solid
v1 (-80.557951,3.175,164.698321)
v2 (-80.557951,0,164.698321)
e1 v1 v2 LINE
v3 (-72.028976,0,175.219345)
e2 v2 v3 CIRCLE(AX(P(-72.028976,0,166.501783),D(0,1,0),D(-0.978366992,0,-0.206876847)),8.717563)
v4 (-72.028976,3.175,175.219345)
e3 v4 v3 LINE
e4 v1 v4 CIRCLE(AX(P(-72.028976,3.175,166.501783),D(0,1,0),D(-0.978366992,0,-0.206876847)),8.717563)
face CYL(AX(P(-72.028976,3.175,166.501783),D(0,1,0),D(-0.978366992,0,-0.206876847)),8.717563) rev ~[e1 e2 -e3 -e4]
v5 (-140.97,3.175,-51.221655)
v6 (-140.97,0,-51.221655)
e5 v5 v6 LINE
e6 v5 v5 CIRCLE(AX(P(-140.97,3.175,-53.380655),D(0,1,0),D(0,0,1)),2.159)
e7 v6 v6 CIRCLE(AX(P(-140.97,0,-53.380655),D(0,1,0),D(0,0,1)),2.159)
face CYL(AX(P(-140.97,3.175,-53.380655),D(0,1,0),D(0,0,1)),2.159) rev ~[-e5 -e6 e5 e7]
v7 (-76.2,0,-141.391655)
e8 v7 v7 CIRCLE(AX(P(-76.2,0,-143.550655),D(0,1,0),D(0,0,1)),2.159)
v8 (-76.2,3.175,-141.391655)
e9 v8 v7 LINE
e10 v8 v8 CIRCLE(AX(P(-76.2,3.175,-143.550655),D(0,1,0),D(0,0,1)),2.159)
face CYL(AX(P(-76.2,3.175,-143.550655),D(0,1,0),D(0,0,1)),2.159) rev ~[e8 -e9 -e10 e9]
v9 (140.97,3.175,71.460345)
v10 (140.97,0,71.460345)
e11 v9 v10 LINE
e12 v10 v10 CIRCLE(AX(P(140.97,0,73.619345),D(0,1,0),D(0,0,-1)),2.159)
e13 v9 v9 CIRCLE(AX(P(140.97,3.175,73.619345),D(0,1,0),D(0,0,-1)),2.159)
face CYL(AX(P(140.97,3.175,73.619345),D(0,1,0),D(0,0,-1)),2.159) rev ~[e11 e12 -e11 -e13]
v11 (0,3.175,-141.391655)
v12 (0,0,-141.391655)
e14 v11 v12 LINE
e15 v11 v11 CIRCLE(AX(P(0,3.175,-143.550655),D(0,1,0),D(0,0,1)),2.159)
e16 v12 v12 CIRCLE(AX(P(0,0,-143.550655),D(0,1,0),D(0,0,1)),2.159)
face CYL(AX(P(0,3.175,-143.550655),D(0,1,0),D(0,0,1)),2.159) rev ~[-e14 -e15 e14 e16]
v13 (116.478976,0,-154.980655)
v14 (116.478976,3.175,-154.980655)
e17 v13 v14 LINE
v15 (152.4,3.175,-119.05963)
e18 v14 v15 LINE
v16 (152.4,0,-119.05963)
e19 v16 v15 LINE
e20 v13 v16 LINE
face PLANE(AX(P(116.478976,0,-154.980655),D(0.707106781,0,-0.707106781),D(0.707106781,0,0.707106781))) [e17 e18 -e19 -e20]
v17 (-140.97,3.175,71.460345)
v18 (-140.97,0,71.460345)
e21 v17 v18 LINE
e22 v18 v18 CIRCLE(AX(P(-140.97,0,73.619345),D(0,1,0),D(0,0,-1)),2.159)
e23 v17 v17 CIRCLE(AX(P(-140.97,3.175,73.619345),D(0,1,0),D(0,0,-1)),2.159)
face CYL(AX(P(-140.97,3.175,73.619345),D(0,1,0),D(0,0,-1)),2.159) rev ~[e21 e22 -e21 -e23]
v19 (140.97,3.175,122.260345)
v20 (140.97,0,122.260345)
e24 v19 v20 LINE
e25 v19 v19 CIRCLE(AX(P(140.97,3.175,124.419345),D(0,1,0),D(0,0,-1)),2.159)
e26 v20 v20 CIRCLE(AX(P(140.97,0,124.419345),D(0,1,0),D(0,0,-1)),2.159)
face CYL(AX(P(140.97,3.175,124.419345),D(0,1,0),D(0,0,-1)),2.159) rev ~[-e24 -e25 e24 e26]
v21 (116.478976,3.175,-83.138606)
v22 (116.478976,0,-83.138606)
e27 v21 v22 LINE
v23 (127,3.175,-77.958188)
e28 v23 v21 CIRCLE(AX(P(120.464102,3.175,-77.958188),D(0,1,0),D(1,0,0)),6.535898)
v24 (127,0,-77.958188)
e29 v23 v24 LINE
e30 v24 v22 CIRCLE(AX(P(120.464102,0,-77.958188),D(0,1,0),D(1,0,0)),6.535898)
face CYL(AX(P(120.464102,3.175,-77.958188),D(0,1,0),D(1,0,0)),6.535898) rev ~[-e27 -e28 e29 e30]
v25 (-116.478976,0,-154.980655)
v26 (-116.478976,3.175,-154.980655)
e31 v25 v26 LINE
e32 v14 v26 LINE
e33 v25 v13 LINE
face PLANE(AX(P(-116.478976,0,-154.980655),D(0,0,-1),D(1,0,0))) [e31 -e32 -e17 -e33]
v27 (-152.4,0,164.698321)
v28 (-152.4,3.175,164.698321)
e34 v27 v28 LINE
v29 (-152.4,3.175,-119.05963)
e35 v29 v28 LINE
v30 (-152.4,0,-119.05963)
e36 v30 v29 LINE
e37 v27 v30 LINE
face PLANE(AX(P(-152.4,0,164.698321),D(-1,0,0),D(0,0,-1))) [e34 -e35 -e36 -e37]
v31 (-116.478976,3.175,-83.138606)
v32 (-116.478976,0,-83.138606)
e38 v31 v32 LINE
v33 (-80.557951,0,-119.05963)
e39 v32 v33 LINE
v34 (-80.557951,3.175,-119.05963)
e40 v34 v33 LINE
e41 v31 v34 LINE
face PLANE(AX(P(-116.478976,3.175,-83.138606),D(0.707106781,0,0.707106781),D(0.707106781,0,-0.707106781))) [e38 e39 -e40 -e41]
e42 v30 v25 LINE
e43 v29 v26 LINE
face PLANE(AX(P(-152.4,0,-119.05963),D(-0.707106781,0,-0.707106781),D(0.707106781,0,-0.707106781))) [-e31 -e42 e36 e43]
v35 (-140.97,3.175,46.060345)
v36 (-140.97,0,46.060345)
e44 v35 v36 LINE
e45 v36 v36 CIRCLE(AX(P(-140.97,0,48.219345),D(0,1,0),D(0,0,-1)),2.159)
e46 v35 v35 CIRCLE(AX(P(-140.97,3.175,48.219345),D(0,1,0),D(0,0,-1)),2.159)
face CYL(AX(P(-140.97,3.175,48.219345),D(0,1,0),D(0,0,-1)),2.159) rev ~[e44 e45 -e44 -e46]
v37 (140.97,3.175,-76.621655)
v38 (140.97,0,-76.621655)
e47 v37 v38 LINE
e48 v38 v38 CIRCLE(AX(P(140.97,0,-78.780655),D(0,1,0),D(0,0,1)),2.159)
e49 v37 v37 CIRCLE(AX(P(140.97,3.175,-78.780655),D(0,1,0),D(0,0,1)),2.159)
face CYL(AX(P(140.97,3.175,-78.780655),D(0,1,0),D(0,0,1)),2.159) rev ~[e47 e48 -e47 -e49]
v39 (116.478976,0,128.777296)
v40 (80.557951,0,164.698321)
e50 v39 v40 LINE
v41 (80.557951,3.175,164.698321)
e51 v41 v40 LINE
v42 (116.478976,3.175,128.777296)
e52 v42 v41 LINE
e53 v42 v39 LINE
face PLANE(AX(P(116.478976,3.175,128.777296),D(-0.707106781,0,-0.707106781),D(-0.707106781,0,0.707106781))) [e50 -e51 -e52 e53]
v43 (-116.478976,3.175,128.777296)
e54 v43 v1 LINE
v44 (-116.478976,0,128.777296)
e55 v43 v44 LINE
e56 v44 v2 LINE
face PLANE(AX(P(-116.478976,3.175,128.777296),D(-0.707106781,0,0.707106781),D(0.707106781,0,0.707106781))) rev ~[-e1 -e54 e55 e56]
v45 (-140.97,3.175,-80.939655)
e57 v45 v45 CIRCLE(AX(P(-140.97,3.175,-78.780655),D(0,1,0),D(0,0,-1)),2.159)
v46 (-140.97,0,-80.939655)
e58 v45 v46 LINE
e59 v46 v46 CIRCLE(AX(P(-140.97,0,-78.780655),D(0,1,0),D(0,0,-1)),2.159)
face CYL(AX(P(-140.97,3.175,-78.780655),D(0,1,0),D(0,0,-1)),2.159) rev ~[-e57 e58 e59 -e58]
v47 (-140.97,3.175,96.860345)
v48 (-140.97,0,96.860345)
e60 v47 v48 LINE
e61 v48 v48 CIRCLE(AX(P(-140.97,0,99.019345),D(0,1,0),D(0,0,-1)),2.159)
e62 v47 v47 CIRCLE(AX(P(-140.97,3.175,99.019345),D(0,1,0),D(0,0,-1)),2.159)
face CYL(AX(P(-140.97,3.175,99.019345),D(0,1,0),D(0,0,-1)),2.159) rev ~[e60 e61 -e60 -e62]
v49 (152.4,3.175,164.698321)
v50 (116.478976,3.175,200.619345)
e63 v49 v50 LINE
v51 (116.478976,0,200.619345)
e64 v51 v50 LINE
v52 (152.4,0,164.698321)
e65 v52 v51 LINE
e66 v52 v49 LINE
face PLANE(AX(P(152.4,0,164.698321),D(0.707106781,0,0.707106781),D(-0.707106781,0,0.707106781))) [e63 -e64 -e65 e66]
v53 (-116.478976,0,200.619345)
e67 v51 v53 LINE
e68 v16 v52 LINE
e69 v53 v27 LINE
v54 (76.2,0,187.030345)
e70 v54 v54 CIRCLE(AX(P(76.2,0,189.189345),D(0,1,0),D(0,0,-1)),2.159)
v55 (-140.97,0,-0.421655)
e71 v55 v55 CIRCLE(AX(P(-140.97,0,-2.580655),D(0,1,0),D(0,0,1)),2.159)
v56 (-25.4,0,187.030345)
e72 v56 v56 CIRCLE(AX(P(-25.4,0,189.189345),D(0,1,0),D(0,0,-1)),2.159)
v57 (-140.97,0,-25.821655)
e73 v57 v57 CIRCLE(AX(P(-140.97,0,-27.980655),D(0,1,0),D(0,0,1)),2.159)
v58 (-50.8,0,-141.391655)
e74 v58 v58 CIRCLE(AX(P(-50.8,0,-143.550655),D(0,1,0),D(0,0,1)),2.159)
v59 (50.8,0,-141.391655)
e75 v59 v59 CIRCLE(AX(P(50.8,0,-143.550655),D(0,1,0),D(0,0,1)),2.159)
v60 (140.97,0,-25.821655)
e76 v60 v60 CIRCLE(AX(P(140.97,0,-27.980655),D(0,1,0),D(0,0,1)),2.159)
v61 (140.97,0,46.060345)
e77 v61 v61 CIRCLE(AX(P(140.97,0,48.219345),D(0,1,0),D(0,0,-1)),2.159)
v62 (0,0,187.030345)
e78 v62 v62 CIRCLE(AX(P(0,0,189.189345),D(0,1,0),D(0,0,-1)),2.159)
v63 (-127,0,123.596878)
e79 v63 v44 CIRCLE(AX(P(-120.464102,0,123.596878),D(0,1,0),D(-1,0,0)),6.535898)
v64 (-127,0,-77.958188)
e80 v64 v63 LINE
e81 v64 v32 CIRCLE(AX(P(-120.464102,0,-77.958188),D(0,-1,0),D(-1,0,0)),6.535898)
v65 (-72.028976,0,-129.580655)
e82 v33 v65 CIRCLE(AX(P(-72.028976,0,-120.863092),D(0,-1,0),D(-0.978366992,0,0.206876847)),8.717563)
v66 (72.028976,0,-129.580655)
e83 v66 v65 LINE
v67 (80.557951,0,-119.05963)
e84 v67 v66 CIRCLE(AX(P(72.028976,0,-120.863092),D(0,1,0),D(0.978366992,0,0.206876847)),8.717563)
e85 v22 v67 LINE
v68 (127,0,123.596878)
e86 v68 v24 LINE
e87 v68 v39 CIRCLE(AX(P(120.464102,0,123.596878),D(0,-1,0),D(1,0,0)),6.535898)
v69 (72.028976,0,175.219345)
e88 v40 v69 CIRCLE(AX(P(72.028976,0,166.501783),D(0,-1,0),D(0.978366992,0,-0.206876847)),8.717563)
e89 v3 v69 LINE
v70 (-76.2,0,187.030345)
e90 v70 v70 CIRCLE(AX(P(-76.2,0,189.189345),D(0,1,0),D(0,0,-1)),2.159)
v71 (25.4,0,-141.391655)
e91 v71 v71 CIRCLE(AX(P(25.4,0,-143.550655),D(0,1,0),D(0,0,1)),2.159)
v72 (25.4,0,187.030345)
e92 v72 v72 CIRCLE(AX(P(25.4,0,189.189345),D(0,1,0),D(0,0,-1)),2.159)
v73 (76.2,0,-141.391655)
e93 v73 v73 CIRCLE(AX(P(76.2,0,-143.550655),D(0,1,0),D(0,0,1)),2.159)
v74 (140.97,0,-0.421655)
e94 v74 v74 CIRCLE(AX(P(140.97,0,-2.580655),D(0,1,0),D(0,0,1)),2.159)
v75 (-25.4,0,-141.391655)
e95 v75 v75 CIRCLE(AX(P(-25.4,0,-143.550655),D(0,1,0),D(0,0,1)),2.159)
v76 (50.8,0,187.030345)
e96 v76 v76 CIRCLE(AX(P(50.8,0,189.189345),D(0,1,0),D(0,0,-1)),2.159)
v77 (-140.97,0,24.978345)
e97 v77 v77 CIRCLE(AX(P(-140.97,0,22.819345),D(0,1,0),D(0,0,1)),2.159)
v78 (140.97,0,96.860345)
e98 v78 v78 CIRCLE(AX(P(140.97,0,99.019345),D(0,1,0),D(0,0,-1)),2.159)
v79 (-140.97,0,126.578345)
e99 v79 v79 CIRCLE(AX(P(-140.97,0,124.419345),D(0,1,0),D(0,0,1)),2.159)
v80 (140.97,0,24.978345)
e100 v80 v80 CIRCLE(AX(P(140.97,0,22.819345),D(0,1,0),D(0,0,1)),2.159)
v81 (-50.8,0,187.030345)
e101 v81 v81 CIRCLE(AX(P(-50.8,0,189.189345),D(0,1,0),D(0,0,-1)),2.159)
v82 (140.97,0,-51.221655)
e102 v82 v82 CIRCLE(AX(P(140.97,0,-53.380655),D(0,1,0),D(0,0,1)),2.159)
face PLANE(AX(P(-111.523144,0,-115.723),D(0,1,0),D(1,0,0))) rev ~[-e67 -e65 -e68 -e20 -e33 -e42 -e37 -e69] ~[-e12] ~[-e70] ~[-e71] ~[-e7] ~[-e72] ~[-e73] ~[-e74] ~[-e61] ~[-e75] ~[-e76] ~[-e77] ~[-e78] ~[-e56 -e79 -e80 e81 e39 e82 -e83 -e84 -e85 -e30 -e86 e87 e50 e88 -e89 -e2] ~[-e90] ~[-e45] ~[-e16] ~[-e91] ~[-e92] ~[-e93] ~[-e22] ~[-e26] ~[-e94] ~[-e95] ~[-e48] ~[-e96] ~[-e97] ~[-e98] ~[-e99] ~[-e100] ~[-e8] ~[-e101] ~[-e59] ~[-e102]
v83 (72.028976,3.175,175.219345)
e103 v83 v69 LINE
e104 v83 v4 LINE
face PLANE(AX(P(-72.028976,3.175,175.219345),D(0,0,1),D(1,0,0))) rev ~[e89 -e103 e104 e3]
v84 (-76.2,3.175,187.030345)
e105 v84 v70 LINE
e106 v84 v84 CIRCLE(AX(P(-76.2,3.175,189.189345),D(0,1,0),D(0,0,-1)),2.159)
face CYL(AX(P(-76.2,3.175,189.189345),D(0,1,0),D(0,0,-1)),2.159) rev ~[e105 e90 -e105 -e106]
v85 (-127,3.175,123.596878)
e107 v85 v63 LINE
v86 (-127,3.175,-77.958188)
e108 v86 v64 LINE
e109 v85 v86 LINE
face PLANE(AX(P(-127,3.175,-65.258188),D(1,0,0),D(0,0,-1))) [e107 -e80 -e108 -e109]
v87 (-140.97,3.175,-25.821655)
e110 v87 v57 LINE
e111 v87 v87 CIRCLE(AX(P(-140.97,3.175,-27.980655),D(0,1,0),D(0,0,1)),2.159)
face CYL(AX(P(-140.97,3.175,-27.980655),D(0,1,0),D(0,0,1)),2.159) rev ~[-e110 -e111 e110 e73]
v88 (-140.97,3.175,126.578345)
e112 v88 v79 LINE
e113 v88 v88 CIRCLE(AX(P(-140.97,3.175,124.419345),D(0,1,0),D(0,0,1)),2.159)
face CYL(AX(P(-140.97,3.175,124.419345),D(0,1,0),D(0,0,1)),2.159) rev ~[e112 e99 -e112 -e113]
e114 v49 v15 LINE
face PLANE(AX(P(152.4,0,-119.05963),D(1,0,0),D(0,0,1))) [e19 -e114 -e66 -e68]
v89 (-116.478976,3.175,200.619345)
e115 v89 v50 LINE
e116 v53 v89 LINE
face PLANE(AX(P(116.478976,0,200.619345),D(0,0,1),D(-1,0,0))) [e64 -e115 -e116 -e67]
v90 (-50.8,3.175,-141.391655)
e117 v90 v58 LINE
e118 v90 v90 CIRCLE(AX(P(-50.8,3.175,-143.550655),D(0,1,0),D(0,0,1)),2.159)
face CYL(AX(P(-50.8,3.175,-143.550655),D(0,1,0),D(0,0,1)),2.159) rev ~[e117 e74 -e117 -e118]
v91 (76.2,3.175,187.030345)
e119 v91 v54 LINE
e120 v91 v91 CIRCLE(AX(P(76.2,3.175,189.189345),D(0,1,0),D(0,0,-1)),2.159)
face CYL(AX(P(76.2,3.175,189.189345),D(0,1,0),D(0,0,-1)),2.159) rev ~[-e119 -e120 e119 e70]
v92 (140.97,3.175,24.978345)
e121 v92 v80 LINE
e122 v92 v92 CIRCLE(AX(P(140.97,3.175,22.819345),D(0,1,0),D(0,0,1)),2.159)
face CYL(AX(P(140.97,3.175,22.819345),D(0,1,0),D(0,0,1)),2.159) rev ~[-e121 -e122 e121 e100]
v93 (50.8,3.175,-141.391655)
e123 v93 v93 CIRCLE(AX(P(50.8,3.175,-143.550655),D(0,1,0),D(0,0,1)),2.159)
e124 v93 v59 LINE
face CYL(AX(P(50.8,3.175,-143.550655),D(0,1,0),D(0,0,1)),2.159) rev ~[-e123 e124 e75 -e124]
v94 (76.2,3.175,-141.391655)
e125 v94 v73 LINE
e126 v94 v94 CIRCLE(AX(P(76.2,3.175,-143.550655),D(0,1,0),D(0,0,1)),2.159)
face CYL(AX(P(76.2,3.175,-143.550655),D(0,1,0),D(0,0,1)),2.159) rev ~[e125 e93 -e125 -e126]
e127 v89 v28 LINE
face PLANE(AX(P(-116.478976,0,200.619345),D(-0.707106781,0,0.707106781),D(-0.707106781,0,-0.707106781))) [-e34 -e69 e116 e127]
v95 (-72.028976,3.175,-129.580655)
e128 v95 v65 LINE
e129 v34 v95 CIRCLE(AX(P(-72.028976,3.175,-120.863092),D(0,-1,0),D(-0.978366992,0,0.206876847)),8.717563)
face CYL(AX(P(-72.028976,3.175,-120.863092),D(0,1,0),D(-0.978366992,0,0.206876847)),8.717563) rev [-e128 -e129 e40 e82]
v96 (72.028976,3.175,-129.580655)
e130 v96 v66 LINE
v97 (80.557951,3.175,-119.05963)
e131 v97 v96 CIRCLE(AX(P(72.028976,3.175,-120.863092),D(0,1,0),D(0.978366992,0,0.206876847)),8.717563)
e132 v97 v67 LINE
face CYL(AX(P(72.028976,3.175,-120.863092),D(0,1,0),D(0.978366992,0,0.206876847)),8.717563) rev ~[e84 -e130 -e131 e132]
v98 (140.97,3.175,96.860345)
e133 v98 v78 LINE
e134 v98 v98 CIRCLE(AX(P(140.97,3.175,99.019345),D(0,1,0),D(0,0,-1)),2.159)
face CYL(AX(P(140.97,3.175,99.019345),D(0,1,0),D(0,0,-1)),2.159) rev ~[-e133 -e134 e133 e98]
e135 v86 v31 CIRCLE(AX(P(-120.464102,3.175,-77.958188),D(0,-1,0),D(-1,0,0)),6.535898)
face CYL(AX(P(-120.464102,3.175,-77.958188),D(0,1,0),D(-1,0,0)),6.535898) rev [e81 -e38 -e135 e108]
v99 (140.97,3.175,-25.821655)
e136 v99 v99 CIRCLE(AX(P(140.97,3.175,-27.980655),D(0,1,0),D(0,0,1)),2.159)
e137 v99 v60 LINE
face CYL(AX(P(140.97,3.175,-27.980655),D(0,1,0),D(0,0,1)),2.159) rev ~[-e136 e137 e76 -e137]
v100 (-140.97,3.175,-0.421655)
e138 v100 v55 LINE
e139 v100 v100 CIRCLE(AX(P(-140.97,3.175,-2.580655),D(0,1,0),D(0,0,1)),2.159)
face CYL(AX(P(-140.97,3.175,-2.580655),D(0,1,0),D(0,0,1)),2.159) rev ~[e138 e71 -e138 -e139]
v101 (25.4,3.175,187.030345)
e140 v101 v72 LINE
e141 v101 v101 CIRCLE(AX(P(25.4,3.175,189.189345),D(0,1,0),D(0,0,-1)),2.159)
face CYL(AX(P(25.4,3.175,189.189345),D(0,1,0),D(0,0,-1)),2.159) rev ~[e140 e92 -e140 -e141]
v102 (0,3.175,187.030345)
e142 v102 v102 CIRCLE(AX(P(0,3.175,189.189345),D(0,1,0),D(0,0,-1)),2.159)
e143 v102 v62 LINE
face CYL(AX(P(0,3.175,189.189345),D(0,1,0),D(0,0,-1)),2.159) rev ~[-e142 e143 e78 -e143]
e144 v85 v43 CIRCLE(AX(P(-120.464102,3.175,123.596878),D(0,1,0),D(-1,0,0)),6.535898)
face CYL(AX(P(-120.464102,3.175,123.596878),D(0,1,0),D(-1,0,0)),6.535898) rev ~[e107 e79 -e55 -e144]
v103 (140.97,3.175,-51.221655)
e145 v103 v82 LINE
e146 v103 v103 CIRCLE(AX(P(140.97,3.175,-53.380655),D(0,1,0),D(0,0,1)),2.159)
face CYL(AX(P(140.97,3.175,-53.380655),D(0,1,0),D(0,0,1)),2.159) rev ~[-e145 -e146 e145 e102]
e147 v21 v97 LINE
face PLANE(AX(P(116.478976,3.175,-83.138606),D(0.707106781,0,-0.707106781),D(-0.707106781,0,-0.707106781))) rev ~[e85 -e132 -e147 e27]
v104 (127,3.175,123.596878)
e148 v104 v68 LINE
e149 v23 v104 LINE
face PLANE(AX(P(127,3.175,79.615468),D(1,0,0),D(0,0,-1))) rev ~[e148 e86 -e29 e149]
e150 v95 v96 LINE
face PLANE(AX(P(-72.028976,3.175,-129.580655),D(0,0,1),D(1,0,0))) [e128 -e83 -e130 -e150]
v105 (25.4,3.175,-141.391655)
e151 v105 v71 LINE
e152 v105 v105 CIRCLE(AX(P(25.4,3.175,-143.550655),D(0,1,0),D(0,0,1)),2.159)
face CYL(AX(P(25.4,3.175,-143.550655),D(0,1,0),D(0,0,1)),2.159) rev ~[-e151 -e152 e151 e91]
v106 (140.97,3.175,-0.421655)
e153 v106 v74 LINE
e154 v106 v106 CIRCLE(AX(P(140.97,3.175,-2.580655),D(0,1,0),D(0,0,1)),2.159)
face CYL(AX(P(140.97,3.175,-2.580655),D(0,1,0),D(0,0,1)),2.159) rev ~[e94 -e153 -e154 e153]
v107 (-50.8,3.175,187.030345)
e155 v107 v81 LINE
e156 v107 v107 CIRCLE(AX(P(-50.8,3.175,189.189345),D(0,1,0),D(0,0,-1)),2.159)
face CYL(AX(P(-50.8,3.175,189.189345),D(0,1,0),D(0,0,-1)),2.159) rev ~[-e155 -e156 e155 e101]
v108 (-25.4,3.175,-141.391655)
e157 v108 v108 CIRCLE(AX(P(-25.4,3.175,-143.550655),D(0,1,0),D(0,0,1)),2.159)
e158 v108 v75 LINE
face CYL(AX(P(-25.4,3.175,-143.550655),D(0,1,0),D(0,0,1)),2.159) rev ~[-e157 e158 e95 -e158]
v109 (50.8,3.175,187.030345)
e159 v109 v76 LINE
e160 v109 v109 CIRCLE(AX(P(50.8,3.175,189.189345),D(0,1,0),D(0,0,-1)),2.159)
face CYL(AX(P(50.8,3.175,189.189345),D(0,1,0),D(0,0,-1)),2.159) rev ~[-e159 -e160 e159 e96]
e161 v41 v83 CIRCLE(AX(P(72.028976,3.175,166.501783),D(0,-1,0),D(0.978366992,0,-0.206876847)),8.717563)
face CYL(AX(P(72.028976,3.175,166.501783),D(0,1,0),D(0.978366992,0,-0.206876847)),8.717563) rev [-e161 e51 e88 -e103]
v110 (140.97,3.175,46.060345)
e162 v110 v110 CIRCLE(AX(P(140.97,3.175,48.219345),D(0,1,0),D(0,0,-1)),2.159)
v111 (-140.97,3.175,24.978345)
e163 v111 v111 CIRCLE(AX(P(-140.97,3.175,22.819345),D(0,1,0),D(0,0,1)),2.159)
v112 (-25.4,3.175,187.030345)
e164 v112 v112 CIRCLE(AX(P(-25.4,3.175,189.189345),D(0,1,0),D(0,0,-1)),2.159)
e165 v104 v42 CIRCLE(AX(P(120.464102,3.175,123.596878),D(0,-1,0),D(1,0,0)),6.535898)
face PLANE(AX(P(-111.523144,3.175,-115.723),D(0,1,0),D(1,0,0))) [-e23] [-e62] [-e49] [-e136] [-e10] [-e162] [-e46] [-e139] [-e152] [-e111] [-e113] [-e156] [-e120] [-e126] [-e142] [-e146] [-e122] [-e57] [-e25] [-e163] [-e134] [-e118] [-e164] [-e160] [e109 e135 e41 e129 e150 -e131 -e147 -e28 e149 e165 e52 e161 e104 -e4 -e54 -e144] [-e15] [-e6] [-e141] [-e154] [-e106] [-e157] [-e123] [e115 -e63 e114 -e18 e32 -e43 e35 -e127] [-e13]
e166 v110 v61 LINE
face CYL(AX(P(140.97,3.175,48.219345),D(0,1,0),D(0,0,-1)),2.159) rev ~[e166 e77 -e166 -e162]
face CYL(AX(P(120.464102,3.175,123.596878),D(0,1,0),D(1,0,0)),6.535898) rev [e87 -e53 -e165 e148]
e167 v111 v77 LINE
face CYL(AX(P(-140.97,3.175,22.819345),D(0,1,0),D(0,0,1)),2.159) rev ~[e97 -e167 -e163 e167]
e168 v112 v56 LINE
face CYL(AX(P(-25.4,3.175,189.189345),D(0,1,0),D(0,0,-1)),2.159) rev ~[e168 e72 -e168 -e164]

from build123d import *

# Parameters (mm, degrees)
BOSS_EXTRUDE1_DEPTH = 3.175
CUT_EXTRUDE1_DEPTH  = 252.960239461
BOSS_EXTRUDE2_DEPTH = 3.175
SKETCH4_R           = 2.159
CUT_EXTRUDE2_DEPTH  = 252.960239461
SKETCH6_W           = 254
SKETCH6_H           = 106.880400145
CUT_EXTRUDE3_DEPTH  = 252.960239461


with BuildPart() as part:
    # Sketch1 → Boss-Extrude1 (new body)
    with BuildSketch(Plane(origin=(0, 0, 0), x_dir=(1, 0, 0), z_dir=(0, 1, 0))):
        Polygon((-152.4, 119.059630377), (-116.478975516, 154.980654861), (116.478975516, 154.980654861), (152.4, 119.059630377), (152.4, -164.698320655), (116.478975516, -200.619345139), (-116.478975516, -200.619345139), (-152.4, -164.698320655), align=None)
    extrude(amount=BOSS_EXTRUDE1_DEPTH)

    # Sketch2 → Cut-Extrude1 (cut, through all)
    with BuildSketch(Plane(origin=(0, 3.175, 0), x_dir=(1, 0, 0), z_dir=(0, 1, 0))):
        Polygon((-91.078975516, 129.580654861), (91.078975516, 129.580654861), (127, 93.659630377), (127, 8.930654861), (82.442975516, 8.930654861), (-74.314975516, 8.930654861), (-127, 8.930654861), (-127, 93.659630377), align=None)
        Polygon((127, -139.298320655), (91.078975516, -175.219345139), (-91.078975516, -175.219345139), (-127, -139.298320655), (-127, -54.569345139), (-74.314975516, -54.569345139), (82.442975516, -54.569345139), (127, -54.569345139), align=None)
    extrude(amount=-CUT_EXTRUDE1_DEPTH, mode=Mode.SUBTRACT)

    # Sketch5 → Boss-Extrude2 (add)
    with BuildSketch(Plane(origin=(0, 3.175, 0), x_dir=(1, 0, 0), z_dir=(0, 1, 0))):
        with BuildLine():
            Line((-116.478975516, 83.138605892), (-80.557951031, 119.059630377))
            ThreePointArc((-80.557951031, 119.059630377), (-78.800891411, 126.352814743), (-72.028975516, 129.580654861))
            Line((-72.028975516, 129.580654861), (-59.328975516, 129.580654861))
            Line((-59.328975516, 129.580654861), (-59.328975516, 154.980654861))
            Line((-59.328975516, 154.980654861), (-116.478975516, 154.980654861))
            Line((-116.478975516, 154.980654861), (-152.4, 119.059630377))
            Line((-152.4, 119.059630377), (-152.4, 65.258187686))
            Line((-152.4, 65.258187686), (-127, 65.258187686))
            Line((-127, 65.258187686), (-127, 77.958187686))
            ThreePointArc((-127, 77.958187686), (-123.351279088, 83.821819005), (-116.478975516, 83.138605892))
        make_face()
        with BuildLine():
            Line((127, 65.258187686), (127, 77.958187686))
            ThreePointArc((127, 77.958187686), (123.351279088, 83.821819005), (116.478975516, 83.138605892))
            Line((116.478975516, 83.138605892), (80.557951031, 119.059630377))
            ThreePointArc((80.557951031, 119.059630377), (78.800891411, 126.352814743), (72.028975516, 129.580654861))
            Line((72.028975516, 129.580654861), (59.328975516, 129.580654861))
            Line((59.328975516, 129.580654861), (59.328975516, 154.980654861))
            Line((59.328975516, 154.980654861), (116.478975516, 154.980654861))
            Line((116.478975516, 154.980654861), (152.4, 119.059630377))
            Line((152.4, 119.059630377), (152.4, 65.258187686))
            Line((152.4, 65.258187686), (127, 65.258187686))
        make_face()
        with BuildLine():
            Line((116.478975516, -128.777296171), (80.557951031, -164.698320655))
            ThreePointArc((80.557951031, -164.698320655), (78.800891411, -171.991505021), (72.028975516, -175.219345139))
            Line((72.028975516, -175.219345139), (59.328975516, -175.219345139))
            Line((59.328975516, -175.219345139), (59.328975516, -200.619345139))
            Line((59.328975516, -200.619345139), (116.478975516, -200.619345139))
            Line((116.478975516, -200.619345139), (152.4, -164.698320655))
            Line((152.4, -164.698320655), (152.4, -110.896877964))
            Line((152.4, -110.896877964), (127, -110.896877964))
            Line((127, -110.896877964), (127, -123.596877964))
            ThreePointArc((127, -123.596877964), (123.351279088, -129.460509283), (116.478975516, -128.777296171))
        make_face()
        with BuildLine():
            Line((-127, -110.896877964), (-127, -123.596877964))
            ThreePointArc((-127, -123.596877964), (-123.351279088, -129.460509283), (-116.478975516, -128.777296171))
            Line((-116.478975516, -128.777296171), (-80.557951031, -164.698320655))
            ThreePointArc((-80.557951031, -164.698320655), (-78.800891411, -171.991505021), (-72.028975516, -175.219345139))
            Line((-72.028975516, -175.219345139), (-59.328975516, -175.219345139))
            Line((-59.328975516, -175.219345139), (-59.328975516, -200.619345139))
            Line((-59.328975516, -200.619345139), (-116.478975516, -200.619345139))
            Line((-116.478975516, -200.619345139), (-152.4, -164.698320655))
            Line((-152.4, -164.698320655), (-152.4, -110.896877964))
            Line((-152.4, -110.896877964), (-127, -110.896877964))
        make_face()
    extrude(amount=-BOSS_EXTRUDE2_DEPTH)

    # Sketch4 → Cut-Extrude2 (cut, through all)
    with BuildSketch(Plane(origin=(0, 3.175, 0), x_dir=(1, 0, 0), z_dir=(0, 1, 0))):
        with Locations(Location((0, 143.550654861, 0), (0, 0, 270))):
            Circle(SKETCH4_R)
        with Locations(Location((-50.8, 143.550654861, 0), (0, 0, 270))):
            Circle(SKETCH4_R)
        with Locations(Location((50.8, 143.550654861, 0), (0, 0, 270))):
            Circle(SKETCH4_R)
        with Locations(Location((-25.4, 143.550654861, 0), (0, 0, 270))):
            Circle(SKETCH4_R)
        with Locations(Location((25.4, 143.550654861, 0), (0, 0, 270))):
            Circle(SKETCH4_R)
        with Locations(Location((-140.97, -22.819345139, 0), (0, 0, 270))):
            Circle(SKETCH4_R)
        with Locations(Location((-140.97, 2.580654861, 0), (0, 0, 270))):
            Circle(SKETCH4_R)
        with Locations(Location((-140.97, 27.980654861, 0), (0, 0, 270))):
            Circle(SKETCH4_R)
        with Locations(Location((140.97, -22.819345139, 0), (0, 0, 270))):
            Circle(SKETCH4_R)
        with Locations(Location((140.97, 2.580654861, 0), (0, 0, 270))):
            Circle(SKETCH4_R)
        with Locations(Location((140.97, 27.980654861, 0), (0, 0, 270))):
            Circle(SKETCH4_R)
        with Locations(Location((140.97, -73.619345139, 0), (0, 0, 90))):
            Circle(SKETCH4_R)
        with Locations(Location((140.97, -48.219345139, 0), (0, 0, 90))):
            Circle(SKETCH4_R)
        with Locations(Location((-140.97, -73.619345139, 0), (0, 0, 90))):
            Circle(SKETCH4_R)
        with Locations(Location((-140.97, -48.219345139, 0), (0, 0, 90))):
            Circle(SKETCH4_R)
        with Locations(Location((25.4, -189.189345139, 0), (0, 0, 90))):
            Circle(SKETCH4_R)
        with Locations(Location((-25.4, -189.189345139, 0), (0, 0, 90))):
            Circle(SKETCH4_R)
        with Locations(Location((50.8, -189.189345139, 0), (0, 0, 90))):
            Circle(SKETCH4_R)
        with Locations(Location((-50.8, -189.189345139, 0), (0, 0, 90))):
            Circle(SKETCH4_R)
        with Locations(Location((0, -189.189345139, 0), (0, 0, 90))):
            Circle(SKETCH4_R)
        with Locations(Location((-76.2, 143.550654861, 0), (0, 0, 270))):
            Circle(SKETCH4_R)
        with Locations(Location((76.2, 143.550654861, 0), (0, 0, 270))):
            Circle(SKETCH4_R)
        with Locations(Location((-140.97, 53.380654861, 0), (0, 0, 270))):
            Circle(SKETCH4_R)
        with Locations(Location((140.97, 53.380654861, 0), (0, 0, 270))):
            Circle(SKETCH4_R)
        with Locations(Location((140.97, -99.019345139, 0), (0, 0, 90))):
            Circle(SKETCH4_R)
        with Locations(Location((76.2, -189.189345139, 0), (0, 0, 90))):
            Circle(SKETCH4_R)
        with Locations(Location((-76.2, -189.189345139, 0), (0, 0, 90))):
            Circle(SKETCH4_R)
        with Locations(Location((-140.97, -99.019345139, 0), (0, 0, 90))):
            Circle(SKETCH4_R)
        with Locations(Location((-140.97, -124.419345139, 0), (0, 0, 270))):
            Circle(SKETCH4_R)
        with Locations(Location((-140.97, 78.780654861, 0), (0, 0, 90))):
            Circle(SKETCH4_R)
        with Locations(Location((140.97, 78.780654861, 0), (0, 0, 270))):
            Circle(SKETCH4_R)
        with Locations(Location((140.97, -124.419345139, 0), (0, 0, 90))):
            Circle(SKETCH4_R)
    extrude(amount=-CUT_EXTRUDE2_DEPTH, mode=Mode.SUBTRACT)

    # Sketch6 → Cut-Extrude3 (cut, through all)
    with BuildSketch(Plane(origin=(0, 3.175, 0), x_dir=(1, 0, 0), z_dir=(0, 1, 0))):
        with Locations((0, -26.175268273)):
            Rectangle(SKETCH6_W, SKETCH6_H)
    extrude(amount=-CUT_EXTRUDE3_DEPTH, mode=Mode.SUBTRACT)


solid = part.part
